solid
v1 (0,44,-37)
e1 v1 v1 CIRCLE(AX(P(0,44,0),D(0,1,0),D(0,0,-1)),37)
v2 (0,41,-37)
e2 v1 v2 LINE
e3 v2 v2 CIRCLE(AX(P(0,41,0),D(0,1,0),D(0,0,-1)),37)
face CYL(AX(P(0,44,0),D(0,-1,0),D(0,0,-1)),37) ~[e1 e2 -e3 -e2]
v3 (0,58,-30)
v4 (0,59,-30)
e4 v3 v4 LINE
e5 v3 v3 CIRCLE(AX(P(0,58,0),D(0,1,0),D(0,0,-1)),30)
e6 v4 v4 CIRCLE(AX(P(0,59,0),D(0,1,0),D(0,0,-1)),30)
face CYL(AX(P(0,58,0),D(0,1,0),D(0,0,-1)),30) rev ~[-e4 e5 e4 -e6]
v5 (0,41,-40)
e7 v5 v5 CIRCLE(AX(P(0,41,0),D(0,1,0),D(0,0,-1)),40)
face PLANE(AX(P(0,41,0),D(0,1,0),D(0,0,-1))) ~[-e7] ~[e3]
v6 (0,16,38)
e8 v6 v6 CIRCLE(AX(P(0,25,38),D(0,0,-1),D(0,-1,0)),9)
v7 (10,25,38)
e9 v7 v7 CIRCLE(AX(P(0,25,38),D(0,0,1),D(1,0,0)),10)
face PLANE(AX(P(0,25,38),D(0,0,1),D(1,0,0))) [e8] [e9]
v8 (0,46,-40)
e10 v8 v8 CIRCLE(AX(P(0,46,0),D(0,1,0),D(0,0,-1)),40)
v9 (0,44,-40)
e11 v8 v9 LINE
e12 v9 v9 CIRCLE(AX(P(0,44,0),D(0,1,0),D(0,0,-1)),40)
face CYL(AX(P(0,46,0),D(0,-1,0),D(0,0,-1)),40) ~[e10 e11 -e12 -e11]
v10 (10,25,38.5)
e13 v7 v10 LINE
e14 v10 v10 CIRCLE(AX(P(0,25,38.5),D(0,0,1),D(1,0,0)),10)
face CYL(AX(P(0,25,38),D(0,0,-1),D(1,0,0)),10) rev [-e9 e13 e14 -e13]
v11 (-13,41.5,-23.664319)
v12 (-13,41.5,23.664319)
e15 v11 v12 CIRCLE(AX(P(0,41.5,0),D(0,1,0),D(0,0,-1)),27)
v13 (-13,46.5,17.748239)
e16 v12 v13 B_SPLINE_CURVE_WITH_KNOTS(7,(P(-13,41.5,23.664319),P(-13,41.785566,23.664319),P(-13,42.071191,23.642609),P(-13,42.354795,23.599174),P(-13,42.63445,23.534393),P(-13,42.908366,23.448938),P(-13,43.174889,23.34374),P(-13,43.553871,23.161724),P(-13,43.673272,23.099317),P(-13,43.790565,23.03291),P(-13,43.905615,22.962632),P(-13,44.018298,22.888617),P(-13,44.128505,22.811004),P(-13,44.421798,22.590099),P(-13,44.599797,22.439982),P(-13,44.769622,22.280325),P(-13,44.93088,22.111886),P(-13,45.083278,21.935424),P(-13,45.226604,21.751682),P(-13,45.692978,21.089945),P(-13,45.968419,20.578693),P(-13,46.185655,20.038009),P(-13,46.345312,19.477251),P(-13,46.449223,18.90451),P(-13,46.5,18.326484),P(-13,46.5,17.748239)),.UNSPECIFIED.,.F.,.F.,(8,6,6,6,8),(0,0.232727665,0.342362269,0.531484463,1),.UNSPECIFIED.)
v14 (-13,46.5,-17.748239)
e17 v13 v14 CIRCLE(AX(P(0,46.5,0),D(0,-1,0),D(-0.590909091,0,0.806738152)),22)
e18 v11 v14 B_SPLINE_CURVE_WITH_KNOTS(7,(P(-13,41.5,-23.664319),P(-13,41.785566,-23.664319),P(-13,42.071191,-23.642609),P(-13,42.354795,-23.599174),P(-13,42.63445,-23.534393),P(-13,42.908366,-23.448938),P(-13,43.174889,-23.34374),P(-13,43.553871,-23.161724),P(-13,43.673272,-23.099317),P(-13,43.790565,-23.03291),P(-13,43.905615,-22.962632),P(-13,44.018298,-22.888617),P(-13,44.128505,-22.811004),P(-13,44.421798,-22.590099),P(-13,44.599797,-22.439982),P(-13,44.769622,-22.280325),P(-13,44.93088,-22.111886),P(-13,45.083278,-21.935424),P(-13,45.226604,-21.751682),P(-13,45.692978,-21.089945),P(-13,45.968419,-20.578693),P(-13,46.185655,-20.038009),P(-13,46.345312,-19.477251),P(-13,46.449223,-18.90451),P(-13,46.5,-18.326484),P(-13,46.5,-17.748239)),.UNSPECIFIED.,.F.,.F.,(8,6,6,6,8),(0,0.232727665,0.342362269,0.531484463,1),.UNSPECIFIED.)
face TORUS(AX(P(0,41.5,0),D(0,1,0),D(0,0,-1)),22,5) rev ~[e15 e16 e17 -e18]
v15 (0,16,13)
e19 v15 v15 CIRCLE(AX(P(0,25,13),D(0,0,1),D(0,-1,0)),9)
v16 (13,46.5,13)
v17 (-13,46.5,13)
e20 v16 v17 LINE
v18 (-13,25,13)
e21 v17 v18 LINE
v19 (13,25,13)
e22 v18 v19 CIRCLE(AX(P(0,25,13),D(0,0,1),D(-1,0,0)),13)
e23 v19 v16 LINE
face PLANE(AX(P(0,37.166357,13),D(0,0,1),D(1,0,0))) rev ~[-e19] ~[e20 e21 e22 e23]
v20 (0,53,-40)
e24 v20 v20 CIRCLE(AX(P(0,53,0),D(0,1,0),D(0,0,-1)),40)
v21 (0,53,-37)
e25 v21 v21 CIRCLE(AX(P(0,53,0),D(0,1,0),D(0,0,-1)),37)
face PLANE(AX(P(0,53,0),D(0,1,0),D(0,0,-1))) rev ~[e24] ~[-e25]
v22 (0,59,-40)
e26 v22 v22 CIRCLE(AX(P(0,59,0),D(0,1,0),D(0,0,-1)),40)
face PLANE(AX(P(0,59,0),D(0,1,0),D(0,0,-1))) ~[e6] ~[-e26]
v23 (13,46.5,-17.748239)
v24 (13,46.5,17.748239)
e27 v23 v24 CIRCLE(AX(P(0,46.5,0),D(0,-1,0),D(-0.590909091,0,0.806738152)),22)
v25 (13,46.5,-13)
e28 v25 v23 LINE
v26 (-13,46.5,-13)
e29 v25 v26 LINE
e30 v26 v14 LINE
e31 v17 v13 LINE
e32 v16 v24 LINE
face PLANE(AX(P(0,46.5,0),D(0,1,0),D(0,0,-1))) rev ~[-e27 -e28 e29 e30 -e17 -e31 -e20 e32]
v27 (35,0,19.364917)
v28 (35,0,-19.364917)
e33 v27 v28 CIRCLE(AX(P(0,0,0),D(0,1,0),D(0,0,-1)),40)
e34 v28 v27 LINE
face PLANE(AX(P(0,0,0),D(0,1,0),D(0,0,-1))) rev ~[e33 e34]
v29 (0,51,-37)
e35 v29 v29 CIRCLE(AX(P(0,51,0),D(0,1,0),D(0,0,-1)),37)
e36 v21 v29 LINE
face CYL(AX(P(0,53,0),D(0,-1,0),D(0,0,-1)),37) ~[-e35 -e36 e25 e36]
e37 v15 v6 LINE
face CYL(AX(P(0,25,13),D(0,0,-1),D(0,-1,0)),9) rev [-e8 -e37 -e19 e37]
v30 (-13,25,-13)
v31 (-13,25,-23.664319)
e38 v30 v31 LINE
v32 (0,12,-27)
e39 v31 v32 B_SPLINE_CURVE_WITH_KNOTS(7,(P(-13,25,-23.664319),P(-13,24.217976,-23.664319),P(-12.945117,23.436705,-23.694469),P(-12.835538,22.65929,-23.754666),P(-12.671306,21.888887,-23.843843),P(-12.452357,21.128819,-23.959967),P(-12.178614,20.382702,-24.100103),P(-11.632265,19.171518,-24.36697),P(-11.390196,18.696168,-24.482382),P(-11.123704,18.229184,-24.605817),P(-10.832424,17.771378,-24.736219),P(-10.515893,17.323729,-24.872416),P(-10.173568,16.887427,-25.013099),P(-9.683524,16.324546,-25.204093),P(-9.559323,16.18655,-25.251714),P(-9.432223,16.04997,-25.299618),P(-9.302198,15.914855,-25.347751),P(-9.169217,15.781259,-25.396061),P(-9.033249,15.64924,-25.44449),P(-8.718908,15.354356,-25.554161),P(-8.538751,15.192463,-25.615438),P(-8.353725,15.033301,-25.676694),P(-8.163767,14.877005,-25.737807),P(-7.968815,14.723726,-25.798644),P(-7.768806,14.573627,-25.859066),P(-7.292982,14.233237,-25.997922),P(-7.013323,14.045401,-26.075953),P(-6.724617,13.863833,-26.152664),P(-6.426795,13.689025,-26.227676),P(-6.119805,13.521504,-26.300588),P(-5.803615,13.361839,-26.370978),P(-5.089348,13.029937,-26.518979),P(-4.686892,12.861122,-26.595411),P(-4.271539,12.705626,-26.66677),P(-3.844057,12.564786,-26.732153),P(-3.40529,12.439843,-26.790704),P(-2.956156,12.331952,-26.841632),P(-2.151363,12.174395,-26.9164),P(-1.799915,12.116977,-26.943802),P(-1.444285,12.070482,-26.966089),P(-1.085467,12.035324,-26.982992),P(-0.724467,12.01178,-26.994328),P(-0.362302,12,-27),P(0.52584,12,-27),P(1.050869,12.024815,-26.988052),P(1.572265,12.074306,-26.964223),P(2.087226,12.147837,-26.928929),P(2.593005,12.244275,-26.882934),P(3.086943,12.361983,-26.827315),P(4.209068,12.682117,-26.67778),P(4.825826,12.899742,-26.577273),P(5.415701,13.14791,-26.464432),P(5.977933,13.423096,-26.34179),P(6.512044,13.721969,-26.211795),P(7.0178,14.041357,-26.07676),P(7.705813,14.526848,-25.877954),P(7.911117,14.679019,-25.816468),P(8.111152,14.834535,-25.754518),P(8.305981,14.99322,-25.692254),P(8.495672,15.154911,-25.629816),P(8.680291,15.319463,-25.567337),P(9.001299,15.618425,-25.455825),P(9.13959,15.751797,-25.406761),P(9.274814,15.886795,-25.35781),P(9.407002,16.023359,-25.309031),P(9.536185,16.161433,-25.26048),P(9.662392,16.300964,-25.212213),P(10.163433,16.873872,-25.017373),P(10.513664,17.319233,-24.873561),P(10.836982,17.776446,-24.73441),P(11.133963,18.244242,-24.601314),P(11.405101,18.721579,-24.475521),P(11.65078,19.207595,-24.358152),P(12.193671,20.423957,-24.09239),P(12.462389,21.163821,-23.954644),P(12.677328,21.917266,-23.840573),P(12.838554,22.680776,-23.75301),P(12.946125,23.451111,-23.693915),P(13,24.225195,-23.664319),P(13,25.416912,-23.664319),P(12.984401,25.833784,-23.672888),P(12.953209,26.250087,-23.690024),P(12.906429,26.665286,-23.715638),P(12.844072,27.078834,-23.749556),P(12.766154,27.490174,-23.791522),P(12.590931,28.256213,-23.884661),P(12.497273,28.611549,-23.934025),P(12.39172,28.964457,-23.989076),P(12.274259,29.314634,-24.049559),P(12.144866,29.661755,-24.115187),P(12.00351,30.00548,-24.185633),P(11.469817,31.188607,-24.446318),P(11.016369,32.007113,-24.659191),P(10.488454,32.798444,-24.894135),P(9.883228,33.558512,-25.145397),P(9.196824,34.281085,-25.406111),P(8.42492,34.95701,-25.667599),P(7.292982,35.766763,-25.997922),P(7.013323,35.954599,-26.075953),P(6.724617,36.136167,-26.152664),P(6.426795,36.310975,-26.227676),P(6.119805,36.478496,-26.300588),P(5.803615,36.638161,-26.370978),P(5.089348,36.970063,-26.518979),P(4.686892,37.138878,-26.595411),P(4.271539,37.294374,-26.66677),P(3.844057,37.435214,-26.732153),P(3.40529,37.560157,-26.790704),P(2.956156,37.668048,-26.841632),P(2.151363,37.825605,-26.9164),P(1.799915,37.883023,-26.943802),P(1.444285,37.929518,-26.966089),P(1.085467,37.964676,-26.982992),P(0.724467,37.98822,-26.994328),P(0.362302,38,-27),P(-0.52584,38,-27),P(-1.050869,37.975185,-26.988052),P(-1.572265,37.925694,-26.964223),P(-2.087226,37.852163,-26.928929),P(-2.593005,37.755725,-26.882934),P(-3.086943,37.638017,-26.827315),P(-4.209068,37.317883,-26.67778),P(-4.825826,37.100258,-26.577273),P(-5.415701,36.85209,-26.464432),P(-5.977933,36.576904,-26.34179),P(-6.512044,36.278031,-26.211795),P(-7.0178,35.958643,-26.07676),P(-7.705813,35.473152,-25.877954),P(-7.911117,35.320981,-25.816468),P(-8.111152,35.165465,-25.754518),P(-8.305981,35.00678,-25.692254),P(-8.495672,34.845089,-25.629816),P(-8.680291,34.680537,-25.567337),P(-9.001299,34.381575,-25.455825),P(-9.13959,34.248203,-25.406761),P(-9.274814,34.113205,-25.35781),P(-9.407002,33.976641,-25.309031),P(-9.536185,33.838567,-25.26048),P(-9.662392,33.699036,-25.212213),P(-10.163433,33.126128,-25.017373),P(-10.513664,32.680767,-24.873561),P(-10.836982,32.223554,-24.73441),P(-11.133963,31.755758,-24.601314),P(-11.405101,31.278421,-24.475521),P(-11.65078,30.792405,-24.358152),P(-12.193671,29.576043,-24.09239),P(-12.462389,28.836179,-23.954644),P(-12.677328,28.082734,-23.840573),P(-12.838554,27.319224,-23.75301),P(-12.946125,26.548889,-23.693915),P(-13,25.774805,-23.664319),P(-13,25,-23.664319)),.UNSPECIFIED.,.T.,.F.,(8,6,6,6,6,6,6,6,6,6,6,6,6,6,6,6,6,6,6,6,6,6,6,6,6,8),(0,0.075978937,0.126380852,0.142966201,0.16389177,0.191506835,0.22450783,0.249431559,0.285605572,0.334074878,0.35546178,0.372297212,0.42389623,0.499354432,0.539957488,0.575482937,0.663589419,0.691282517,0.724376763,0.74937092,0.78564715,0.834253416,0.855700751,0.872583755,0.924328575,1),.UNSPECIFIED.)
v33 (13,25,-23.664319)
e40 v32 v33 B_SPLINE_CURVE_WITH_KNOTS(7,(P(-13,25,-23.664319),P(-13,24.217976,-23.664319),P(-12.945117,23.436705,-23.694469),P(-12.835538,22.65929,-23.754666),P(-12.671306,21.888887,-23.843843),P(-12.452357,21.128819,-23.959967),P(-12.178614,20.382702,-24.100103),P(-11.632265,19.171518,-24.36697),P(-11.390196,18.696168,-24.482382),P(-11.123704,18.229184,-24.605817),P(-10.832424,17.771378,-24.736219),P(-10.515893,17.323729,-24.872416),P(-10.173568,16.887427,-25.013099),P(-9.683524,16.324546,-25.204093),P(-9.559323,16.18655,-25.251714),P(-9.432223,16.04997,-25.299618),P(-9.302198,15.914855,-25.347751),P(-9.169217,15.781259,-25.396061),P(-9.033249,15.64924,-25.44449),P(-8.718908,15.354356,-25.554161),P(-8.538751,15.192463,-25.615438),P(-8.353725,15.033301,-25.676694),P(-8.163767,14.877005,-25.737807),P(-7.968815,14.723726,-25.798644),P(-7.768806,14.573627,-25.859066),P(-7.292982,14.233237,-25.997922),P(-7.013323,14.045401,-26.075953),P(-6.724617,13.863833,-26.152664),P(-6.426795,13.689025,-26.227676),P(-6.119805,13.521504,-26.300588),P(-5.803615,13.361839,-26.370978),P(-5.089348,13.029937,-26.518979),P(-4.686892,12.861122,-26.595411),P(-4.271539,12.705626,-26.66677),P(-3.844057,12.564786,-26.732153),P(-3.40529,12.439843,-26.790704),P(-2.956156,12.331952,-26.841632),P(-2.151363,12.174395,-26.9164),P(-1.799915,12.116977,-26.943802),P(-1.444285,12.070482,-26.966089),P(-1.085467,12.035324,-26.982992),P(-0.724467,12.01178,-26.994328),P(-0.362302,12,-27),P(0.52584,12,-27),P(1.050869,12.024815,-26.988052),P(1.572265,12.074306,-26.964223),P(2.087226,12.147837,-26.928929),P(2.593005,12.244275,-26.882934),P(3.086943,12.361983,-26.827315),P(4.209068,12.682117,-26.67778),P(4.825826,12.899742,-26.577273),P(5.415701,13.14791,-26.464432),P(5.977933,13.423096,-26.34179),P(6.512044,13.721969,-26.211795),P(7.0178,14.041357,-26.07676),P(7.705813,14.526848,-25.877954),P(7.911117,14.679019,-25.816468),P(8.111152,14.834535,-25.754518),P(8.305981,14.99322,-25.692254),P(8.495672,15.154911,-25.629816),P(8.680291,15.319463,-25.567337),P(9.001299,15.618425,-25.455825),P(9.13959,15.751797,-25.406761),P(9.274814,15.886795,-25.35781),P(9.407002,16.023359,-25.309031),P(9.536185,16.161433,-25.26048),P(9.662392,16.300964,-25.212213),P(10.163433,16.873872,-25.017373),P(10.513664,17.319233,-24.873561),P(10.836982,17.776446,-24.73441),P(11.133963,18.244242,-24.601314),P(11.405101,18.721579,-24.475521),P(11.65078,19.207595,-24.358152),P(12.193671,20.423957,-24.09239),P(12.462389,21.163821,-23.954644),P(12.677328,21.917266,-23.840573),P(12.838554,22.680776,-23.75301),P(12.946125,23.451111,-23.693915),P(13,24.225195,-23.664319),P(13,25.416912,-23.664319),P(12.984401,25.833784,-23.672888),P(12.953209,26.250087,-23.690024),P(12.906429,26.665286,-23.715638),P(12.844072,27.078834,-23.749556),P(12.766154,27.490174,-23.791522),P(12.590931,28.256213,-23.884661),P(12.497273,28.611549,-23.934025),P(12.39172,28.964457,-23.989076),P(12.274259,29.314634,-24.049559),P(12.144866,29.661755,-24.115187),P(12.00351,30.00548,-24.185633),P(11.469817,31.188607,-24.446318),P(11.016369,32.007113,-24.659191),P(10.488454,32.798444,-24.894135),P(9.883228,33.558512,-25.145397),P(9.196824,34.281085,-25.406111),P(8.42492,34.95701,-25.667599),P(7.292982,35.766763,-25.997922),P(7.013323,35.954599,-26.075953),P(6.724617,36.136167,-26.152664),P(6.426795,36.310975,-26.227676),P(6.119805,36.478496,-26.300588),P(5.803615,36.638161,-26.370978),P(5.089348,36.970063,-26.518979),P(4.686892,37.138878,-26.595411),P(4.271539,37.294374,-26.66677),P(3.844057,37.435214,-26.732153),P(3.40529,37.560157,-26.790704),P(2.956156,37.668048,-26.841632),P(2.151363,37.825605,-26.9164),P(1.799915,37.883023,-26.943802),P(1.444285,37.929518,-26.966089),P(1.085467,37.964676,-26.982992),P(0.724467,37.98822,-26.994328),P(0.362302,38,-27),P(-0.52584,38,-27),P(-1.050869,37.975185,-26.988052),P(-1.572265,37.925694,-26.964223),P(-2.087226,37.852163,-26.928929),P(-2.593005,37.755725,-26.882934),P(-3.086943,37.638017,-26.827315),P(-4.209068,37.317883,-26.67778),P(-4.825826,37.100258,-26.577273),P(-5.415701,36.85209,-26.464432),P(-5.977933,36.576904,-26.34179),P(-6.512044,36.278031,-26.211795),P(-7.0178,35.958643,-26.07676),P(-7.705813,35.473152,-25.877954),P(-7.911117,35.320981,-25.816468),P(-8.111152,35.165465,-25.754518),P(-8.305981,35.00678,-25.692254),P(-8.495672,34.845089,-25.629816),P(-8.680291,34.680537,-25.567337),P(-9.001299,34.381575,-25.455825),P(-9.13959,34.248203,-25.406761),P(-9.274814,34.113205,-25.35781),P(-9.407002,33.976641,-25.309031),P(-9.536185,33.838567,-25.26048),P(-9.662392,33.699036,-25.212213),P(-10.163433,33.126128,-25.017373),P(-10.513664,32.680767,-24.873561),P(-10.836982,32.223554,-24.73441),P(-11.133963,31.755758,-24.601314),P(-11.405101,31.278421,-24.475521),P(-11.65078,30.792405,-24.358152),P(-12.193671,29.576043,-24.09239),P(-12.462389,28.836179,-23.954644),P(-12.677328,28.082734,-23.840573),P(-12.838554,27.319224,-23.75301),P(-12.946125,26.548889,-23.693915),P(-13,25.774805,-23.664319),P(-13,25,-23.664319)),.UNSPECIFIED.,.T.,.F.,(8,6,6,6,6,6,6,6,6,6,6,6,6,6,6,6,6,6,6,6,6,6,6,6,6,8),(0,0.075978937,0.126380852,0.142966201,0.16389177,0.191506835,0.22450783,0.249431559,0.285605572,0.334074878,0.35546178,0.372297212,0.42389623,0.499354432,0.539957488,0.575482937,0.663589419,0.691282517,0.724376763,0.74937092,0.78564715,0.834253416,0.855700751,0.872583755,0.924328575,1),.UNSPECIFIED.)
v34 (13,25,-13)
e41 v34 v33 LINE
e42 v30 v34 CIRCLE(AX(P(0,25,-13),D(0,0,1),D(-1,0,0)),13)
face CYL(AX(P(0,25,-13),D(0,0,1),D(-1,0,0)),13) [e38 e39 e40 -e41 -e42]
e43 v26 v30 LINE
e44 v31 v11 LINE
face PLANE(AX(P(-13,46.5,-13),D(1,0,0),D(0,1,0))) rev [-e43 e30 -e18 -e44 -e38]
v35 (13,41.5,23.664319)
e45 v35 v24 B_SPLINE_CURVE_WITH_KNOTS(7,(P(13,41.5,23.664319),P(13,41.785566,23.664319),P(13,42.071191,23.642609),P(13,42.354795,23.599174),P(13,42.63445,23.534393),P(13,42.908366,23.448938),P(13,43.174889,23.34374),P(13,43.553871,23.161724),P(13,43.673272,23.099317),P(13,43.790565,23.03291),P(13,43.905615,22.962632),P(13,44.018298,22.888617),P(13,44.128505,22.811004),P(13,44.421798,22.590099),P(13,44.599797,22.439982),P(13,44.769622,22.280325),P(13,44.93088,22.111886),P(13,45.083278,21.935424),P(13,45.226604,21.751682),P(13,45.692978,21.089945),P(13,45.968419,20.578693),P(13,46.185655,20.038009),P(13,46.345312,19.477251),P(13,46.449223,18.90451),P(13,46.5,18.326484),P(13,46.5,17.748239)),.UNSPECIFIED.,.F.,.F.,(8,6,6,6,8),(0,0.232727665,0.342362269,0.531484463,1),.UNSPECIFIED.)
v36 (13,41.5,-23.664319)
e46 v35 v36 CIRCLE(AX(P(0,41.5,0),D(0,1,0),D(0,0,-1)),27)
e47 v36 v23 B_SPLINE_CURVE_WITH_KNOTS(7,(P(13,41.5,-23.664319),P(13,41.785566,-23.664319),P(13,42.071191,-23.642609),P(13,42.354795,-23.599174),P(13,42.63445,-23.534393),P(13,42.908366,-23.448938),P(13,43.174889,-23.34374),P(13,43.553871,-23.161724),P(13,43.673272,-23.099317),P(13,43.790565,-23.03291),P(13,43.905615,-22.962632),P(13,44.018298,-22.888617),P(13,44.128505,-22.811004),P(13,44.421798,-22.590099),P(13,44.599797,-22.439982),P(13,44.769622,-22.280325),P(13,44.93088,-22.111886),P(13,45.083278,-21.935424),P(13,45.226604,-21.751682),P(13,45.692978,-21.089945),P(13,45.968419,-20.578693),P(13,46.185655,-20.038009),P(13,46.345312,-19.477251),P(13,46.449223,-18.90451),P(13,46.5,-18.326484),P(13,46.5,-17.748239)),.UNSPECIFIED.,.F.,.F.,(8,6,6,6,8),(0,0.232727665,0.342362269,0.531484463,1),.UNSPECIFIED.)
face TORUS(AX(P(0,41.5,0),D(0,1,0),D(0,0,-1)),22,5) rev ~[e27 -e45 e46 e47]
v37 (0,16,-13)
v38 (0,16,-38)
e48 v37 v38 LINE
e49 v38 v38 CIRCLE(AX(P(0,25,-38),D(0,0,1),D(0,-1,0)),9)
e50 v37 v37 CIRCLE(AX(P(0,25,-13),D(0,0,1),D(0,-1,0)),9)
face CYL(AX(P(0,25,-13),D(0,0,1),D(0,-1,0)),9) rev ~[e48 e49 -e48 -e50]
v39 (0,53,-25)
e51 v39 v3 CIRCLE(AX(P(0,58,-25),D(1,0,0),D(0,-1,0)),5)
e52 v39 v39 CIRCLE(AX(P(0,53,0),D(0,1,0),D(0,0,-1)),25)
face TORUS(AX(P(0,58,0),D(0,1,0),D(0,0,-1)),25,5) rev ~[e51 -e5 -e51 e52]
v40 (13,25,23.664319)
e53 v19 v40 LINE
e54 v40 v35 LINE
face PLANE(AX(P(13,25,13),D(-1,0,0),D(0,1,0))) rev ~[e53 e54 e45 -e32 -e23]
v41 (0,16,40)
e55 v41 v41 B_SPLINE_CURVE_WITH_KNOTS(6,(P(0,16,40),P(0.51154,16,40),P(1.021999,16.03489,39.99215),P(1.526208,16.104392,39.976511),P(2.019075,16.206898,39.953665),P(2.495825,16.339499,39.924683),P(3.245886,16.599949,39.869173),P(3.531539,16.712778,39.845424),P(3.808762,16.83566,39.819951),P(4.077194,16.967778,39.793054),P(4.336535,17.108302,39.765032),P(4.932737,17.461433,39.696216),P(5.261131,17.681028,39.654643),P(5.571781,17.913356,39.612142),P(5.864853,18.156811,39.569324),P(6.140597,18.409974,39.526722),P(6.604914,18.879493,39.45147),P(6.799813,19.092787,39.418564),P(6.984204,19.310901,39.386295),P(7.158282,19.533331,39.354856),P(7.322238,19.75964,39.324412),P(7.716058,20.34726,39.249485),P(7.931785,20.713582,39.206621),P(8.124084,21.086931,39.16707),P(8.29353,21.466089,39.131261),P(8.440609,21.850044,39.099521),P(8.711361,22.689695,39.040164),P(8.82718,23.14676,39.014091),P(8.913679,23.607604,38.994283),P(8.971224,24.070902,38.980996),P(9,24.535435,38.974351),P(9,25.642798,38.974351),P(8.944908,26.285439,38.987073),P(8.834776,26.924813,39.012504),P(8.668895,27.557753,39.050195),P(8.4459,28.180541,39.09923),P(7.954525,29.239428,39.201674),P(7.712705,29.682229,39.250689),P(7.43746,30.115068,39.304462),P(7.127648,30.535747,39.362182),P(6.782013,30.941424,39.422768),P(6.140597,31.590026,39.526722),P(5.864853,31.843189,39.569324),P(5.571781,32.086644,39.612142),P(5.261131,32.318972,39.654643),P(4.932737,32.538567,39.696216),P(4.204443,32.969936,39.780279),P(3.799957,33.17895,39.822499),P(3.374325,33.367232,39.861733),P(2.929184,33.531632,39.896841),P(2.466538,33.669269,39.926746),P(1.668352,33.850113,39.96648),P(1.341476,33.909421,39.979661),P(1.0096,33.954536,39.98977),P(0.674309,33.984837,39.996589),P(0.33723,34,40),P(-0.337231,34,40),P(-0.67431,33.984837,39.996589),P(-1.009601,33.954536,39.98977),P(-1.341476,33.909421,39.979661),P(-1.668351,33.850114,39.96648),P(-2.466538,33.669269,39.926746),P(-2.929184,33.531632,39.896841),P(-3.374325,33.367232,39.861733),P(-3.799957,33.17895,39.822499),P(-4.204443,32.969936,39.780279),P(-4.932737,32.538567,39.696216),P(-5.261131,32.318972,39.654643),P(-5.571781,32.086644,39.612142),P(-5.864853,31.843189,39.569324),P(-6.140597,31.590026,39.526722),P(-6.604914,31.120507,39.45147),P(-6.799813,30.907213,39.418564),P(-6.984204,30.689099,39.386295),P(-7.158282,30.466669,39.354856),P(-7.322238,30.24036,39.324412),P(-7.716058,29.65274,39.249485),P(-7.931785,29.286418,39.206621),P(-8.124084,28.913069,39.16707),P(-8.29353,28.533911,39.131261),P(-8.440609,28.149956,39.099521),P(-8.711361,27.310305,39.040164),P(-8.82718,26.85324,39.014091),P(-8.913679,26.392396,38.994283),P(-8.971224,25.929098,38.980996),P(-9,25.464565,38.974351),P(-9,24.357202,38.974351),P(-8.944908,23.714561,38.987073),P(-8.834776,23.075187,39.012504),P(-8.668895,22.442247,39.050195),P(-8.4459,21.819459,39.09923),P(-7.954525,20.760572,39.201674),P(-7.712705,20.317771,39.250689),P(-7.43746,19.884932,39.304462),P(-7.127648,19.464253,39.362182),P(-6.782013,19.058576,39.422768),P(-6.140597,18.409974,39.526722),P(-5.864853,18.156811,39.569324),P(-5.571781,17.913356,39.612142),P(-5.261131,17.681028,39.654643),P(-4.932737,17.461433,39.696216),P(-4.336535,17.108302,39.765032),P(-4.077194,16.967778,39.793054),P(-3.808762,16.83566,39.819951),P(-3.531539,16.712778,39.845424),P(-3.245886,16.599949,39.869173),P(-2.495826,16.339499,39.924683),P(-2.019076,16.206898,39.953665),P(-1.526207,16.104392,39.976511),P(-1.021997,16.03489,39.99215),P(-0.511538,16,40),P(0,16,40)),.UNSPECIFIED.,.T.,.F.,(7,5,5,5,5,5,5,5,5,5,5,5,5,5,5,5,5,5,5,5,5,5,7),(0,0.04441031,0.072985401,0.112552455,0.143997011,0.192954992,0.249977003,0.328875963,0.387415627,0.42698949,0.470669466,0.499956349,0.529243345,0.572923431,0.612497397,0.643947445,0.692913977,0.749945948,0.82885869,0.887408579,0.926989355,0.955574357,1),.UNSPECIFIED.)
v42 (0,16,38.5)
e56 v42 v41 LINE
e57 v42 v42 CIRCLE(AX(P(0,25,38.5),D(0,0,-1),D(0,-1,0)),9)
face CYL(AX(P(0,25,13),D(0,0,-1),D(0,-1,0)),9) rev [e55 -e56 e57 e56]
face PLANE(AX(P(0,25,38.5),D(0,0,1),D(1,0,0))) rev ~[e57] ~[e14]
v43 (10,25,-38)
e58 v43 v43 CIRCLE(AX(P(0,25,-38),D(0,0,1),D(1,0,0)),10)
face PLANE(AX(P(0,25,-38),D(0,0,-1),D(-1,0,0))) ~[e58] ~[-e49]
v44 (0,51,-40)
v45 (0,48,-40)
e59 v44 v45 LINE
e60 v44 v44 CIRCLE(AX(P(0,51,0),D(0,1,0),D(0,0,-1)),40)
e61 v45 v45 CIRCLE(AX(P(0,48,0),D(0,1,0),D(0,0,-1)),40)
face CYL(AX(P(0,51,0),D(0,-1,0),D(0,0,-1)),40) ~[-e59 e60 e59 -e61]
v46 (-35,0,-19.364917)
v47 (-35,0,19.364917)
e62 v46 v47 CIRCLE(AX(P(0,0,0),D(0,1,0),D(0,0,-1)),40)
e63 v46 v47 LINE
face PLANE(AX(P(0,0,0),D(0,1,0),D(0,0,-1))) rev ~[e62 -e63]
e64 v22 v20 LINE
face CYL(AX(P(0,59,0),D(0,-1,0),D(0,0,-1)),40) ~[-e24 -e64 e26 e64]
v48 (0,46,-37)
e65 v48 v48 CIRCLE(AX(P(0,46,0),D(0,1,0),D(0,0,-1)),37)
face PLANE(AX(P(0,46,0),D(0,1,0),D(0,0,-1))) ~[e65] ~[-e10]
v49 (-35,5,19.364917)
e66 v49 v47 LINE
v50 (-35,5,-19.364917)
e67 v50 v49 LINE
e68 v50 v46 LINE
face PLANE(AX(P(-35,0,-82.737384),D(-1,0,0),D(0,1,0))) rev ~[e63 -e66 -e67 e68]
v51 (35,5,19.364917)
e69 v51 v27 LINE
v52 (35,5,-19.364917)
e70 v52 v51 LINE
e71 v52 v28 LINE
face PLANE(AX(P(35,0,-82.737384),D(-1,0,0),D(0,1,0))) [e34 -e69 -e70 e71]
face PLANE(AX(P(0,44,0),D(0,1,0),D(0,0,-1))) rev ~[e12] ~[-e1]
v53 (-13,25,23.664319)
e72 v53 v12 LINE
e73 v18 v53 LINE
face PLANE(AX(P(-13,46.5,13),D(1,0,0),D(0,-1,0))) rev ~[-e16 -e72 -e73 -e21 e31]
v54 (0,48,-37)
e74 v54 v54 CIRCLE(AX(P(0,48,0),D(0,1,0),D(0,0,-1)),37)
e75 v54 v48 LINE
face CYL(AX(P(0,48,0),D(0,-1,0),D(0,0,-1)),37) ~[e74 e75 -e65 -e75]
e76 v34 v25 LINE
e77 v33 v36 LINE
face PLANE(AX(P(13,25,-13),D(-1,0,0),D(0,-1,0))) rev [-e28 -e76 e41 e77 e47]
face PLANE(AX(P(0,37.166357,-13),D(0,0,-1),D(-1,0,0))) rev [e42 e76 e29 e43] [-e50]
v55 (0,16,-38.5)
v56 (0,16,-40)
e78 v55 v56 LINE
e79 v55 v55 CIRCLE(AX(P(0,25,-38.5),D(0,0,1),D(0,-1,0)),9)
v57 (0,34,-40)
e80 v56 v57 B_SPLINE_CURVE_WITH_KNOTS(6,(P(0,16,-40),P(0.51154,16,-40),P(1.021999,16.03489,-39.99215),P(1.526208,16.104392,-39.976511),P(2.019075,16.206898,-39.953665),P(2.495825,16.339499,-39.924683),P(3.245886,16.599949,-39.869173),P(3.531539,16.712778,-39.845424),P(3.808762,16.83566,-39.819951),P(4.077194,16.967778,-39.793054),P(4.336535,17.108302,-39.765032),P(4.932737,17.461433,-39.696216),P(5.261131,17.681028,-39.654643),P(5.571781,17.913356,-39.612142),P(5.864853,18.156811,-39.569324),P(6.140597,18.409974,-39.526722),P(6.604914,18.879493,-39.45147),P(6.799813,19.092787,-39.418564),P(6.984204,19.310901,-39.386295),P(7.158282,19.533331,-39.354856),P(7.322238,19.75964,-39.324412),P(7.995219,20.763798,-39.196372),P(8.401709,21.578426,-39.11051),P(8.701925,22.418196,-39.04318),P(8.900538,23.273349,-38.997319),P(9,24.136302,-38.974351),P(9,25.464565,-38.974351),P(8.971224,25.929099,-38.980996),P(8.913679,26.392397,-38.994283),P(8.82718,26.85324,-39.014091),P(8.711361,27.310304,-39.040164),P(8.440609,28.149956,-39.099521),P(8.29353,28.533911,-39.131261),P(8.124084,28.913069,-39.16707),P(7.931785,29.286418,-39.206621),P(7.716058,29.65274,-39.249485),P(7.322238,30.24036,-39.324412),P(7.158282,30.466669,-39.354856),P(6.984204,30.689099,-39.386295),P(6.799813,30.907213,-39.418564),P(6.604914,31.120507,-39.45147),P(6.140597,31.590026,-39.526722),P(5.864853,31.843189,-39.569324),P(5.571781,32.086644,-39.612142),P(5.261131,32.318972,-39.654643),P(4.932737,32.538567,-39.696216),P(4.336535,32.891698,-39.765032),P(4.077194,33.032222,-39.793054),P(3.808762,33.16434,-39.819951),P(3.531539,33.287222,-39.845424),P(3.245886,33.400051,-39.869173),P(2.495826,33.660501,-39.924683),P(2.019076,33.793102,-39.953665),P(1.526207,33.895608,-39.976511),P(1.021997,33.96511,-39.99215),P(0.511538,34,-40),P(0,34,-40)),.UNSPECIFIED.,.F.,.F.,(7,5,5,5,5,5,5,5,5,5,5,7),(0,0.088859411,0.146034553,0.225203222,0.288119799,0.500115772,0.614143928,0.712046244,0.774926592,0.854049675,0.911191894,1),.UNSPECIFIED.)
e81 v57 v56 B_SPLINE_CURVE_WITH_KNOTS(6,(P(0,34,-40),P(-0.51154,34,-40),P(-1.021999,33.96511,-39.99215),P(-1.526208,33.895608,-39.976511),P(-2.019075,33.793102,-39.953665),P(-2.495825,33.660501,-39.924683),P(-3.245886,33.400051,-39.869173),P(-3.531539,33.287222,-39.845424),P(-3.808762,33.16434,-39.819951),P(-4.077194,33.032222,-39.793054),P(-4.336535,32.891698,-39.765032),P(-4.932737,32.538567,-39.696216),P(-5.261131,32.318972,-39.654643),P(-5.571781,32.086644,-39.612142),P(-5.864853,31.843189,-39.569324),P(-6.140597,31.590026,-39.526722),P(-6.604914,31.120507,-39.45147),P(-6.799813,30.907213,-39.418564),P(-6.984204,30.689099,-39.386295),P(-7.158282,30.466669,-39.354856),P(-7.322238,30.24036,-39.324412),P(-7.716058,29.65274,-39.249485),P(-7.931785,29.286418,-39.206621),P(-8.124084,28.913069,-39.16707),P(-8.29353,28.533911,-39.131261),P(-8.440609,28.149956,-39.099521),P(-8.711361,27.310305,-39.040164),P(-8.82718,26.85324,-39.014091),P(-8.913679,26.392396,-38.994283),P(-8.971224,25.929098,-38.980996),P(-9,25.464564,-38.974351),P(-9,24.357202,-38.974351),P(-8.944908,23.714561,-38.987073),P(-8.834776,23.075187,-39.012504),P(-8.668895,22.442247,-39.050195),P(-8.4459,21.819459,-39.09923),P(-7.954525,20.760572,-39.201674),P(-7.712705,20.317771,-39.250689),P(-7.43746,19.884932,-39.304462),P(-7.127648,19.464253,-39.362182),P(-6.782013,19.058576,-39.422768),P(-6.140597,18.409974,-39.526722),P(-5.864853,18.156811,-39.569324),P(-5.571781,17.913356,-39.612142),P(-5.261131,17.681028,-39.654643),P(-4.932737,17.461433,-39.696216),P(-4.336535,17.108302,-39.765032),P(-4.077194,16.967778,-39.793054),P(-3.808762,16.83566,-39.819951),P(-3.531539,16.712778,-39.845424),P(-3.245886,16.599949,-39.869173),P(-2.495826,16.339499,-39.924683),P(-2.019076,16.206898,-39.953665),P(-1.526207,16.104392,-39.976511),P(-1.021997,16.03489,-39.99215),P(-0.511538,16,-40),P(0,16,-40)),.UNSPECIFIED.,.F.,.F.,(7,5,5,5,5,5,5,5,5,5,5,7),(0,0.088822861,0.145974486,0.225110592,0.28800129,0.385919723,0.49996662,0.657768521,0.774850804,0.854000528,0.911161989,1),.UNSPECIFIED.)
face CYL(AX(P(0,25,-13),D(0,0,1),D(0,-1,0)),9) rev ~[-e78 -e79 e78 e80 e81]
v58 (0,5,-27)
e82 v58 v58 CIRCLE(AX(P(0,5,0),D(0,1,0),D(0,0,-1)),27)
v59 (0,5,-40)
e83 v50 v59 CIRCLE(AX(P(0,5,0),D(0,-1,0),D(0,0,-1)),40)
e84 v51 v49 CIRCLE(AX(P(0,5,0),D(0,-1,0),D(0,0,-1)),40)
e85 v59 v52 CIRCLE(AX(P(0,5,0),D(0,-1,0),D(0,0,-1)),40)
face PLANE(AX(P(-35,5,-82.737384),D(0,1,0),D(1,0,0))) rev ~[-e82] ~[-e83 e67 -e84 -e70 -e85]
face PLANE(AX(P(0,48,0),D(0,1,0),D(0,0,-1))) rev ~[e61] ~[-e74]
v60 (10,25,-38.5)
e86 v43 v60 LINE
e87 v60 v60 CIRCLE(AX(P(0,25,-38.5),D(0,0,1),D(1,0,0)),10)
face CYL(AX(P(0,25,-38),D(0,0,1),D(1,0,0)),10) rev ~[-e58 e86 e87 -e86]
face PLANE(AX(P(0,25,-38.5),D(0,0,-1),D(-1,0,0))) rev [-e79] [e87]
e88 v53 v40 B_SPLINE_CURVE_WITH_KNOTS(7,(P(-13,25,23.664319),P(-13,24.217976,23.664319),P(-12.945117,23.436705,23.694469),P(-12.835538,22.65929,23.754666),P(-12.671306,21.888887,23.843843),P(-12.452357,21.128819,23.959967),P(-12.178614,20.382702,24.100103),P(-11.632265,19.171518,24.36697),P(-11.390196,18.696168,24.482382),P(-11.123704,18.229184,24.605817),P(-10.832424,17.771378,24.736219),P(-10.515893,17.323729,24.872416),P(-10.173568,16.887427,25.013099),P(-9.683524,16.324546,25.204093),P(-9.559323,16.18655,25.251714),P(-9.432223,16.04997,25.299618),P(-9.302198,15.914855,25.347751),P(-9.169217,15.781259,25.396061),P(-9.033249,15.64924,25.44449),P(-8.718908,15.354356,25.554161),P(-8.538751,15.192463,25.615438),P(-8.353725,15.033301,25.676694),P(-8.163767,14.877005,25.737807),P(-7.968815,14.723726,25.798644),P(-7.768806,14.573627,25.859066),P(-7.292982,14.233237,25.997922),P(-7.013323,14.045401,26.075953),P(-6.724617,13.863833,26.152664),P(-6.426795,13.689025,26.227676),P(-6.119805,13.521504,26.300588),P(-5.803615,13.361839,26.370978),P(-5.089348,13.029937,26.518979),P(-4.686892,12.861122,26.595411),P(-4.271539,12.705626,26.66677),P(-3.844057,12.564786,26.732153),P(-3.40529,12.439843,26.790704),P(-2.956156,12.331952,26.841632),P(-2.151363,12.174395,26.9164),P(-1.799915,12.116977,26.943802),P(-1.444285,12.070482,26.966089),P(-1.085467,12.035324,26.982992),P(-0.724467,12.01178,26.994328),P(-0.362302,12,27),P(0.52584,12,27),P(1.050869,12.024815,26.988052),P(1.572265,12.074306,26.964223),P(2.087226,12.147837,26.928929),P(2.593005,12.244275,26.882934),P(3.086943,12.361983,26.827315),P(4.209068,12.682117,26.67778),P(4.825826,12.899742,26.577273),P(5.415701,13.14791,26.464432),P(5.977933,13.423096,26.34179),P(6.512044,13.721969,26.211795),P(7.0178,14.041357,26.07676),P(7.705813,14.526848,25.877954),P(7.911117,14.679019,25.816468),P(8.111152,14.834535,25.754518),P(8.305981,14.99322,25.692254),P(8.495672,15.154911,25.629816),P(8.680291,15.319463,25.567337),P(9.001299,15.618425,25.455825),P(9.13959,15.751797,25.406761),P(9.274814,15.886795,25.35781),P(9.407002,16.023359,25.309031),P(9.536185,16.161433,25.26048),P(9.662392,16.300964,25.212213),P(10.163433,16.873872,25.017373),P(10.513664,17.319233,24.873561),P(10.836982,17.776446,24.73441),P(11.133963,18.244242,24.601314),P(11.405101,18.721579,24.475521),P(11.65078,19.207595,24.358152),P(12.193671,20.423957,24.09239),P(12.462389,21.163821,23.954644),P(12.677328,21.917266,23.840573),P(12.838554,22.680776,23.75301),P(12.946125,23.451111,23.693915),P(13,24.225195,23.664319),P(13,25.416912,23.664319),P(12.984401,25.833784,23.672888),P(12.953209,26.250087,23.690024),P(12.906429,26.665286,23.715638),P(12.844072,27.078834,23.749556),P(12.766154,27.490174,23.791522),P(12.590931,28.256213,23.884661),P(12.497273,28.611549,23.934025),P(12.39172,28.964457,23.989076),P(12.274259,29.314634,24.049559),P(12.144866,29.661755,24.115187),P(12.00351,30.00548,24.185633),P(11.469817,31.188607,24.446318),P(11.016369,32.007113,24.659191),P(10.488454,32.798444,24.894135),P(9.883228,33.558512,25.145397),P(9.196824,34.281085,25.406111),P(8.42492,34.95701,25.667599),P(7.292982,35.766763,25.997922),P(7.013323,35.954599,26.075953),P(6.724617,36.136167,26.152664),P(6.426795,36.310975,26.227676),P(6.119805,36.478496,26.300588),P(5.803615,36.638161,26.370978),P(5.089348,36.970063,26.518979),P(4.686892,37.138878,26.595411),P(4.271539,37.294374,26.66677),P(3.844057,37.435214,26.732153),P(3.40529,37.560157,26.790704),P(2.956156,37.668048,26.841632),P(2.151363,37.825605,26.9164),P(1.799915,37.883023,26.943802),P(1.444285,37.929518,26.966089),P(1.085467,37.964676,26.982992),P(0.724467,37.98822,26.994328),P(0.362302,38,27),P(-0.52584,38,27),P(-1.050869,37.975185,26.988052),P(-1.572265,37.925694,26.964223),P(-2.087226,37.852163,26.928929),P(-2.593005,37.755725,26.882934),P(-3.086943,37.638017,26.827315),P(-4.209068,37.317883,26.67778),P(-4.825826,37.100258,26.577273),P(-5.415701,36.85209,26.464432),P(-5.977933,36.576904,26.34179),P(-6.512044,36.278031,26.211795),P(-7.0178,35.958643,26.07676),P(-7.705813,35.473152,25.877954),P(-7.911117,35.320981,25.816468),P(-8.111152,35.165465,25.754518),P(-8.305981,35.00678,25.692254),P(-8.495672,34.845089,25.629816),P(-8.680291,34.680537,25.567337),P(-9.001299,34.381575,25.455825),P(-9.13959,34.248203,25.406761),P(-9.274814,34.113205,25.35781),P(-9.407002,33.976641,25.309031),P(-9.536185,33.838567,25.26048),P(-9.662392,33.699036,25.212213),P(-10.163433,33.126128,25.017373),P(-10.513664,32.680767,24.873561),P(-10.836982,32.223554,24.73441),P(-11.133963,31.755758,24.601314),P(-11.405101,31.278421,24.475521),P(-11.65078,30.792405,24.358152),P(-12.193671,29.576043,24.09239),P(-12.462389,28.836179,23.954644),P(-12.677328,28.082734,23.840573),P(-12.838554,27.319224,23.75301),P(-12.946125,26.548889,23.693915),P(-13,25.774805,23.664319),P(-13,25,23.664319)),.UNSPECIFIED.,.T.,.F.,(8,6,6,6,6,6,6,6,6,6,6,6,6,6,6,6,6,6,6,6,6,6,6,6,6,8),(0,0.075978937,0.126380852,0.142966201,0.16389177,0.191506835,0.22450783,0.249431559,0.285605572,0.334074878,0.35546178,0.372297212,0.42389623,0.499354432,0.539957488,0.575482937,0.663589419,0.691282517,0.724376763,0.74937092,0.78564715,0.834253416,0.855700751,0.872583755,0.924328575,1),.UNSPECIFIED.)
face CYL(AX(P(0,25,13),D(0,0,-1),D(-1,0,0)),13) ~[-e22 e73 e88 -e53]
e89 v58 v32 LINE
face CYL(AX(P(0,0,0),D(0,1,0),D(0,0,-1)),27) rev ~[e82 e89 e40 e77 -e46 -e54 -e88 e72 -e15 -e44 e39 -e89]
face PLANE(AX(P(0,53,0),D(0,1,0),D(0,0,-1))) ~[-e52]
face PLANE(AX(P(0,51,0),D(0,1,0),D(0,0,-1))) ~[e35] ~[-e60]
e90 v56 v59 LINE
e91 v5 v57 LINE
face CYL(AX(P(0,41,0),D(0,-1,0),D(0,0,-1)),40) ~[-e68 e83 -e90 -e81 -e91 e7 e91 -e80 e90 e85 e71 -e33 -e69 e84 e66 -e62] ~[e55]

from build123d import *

# Parameters (mm, degrees)
EXTRUDE_1_REACH          = 90.826
EXTRUDE_1_END_RADIUS     = 27
SKETCH_2_R               = 13
SKETCH_4_R               = 9
CUT_EXTRUDE_2_DEPTH      = 89.825671965
SKETCH_5_R               = 10
CUT_EXTRUDE_3_DEPTH      = 0.5
EXTRUDE_1_2_REACH        = 90.826
CUT_EXTRUDE_4_DEPTH      = 82.737384446
CUT_EXTRUDE_4_DEPTH_BACK = 82.737384446
SKETCH_6_W               = 70
SKETCH_6_H               = 5


with BuildPart() as part:
    # 草图1 → 旋转1 (revolve)
    with BuildSketch(Plane.XY, mode=Mode.PRIVATE) as revolve_1_sk:
        with BuildLine():
            Line((0, 53), (25, 53))
            ThreePointArc((25, 53), (28.535533906, 54.464466094), (30, 58))
            Line((30, 58), (30, 59))
            Line((30, 59), (40, 59))
            Line((40, 59), (40, 53))
            Line((40, 53), (37, 53))
            Line((37, 53), (37, 51))
            Line((37, 51), (40, 51))
            Line((40, 51), (40, 48))
            Line((40, 48), (37, 48))
            Line((37, 48), (37, 46))
            Line((37, 46), (40, 46))
            Line((40, 46), (40, 44))
            Line((40, 44), (37, 44))
            Line((37, 44), (37, 41))
            Line((37, 41), (40, 41))
            Line((40, 41), (40, 0))
            Line((40, 0), (27, 0))
            Line((27, 0), (27, 41.5))
            ThreePointArc((27, 41.5), (25.535533906, 45.035533906), (22, 46.5))
            Line((22, 46.5), (0, 46.5))
            Line((0, 46.5), (0, 53))
        make_face()
    revolve(revolve_1_sk.sketch.rotate(Axis((0, -5, 0), (0, 1, 0)), 90), axis=Axis((0, -5, 0), (0, 1, 0)))

    # Extrude 1: up to this cylinder (the profile starts inside it)
    extrude_1_end = Plane(origin=(0, 25, 0), z_dir=(0, -1, 0)) * Cylinder(EXTRUDE_1_END_RADIUS, 236.652, mode=Mode.PRIVATE)
    # 草图2 → Extrude 1 (add, up to the surface)
    with BuildSketch(Plane.XY.offset(13), mode=Mode.PRIVATE) as extrude_1_sk1:
        with Locations(Location((0, 25, 0), (0, 0, 180))):
            Circle(SKETCH_2_R)
    extrude_1_tool1 = extrude(extrude_1_sk1.sketch, amount=EXTRUDE_1_REACH, mode=Mode.PRIVATE) & extrude_1_end
    extrude_1 = extrude_1_tool1.solids().sort_by_distance((0, 25, 13))[0]
    add(extrude_1)

    # 草图4 → 切除-拉伸2 (cut, through all)
    with BuildSketch(Plane.XY.offset(13)):
        with Locations(Location((0, 25, 0), (0, 0, 270))):
            Circle(SKETCH_4_R)
    cut_extrude_2 = extrude(amount=CUT_EXTRUDE_2_DEPTH, mode=Mode.SUBTRACT)

    # 草图5 → 切除-拉伸3 (cut)
    with BuildSketch(Plane.XY.offset(38)):
        with Locations((0, 25)):
            Circle(SKETCH_5_R)
    cut_extrude_3 = extrude(amount=CUT_EXTRUDE_3_DEPTH, mode=Mode.SUBTRACT)

    # 草图7 → Extrude 1 2 (add, up to next)
    with BuildSketch(Plane(origin=(0, 0, 13), x_dir=(-1, 0, 0), z_dir=(0, 0, -1)), mode=Mode.PRIVATE) as extrude_1_2_sk1:
        with BuildLine():
            Line((-13, 25), (-13, 46.5))
            Line((-13, 46.5), (13, 46.5))
            Line((13, 46.5), (13, 25))
            ThreePointArc((13, 25), (0, 38), (-13, 25))
        make_face()
    extrude_1_2_tool1 = extrude(extrude_1_2_sk1.sketch, amount=-EXTRUDE_1_2_REACH, mode=Mode.PRIVATE) - part.part
    extrude_1_2 = extrude_1_2_tool1.solids().sort_by_distance((0, 40.482231, 13))[0]
    add(extrude_1_2)

    # 镜向1: Extrude 1, 切除-拉伸2, 切除-拉伸3, Extrude 1 2 across plane
    add(extrude_1.mirror(Plane.XY))
    add(cut_extrude_2.mirror(Plane.XY), mode=Mode.SUBTRACT)
    add(cut_extrude_3.mirror(Plane.XY), mode=Mode.SUBTRACT)
    add(extrude_1_2.mirror(Plane.XY))

    # 草图6 → 切除-拉伸4 (cut, two sides: drawn at the far end of the back side and taken through both)
    with BuildSketch(Plane.XY.offset(-CUT_EXTRUDE_4_DEPTH_BACK)):
        with Locations((0, 2.5)):
            Rectangle(SKETCH_6_W, SKETCH_6_H)
    extrude(amount=CUT_EXTRUDE_4_DEPTH + CUT_EXTRUDE_4_DEPTH_BACK, mode=Mode.SUBTRACT)


solid = part.part
